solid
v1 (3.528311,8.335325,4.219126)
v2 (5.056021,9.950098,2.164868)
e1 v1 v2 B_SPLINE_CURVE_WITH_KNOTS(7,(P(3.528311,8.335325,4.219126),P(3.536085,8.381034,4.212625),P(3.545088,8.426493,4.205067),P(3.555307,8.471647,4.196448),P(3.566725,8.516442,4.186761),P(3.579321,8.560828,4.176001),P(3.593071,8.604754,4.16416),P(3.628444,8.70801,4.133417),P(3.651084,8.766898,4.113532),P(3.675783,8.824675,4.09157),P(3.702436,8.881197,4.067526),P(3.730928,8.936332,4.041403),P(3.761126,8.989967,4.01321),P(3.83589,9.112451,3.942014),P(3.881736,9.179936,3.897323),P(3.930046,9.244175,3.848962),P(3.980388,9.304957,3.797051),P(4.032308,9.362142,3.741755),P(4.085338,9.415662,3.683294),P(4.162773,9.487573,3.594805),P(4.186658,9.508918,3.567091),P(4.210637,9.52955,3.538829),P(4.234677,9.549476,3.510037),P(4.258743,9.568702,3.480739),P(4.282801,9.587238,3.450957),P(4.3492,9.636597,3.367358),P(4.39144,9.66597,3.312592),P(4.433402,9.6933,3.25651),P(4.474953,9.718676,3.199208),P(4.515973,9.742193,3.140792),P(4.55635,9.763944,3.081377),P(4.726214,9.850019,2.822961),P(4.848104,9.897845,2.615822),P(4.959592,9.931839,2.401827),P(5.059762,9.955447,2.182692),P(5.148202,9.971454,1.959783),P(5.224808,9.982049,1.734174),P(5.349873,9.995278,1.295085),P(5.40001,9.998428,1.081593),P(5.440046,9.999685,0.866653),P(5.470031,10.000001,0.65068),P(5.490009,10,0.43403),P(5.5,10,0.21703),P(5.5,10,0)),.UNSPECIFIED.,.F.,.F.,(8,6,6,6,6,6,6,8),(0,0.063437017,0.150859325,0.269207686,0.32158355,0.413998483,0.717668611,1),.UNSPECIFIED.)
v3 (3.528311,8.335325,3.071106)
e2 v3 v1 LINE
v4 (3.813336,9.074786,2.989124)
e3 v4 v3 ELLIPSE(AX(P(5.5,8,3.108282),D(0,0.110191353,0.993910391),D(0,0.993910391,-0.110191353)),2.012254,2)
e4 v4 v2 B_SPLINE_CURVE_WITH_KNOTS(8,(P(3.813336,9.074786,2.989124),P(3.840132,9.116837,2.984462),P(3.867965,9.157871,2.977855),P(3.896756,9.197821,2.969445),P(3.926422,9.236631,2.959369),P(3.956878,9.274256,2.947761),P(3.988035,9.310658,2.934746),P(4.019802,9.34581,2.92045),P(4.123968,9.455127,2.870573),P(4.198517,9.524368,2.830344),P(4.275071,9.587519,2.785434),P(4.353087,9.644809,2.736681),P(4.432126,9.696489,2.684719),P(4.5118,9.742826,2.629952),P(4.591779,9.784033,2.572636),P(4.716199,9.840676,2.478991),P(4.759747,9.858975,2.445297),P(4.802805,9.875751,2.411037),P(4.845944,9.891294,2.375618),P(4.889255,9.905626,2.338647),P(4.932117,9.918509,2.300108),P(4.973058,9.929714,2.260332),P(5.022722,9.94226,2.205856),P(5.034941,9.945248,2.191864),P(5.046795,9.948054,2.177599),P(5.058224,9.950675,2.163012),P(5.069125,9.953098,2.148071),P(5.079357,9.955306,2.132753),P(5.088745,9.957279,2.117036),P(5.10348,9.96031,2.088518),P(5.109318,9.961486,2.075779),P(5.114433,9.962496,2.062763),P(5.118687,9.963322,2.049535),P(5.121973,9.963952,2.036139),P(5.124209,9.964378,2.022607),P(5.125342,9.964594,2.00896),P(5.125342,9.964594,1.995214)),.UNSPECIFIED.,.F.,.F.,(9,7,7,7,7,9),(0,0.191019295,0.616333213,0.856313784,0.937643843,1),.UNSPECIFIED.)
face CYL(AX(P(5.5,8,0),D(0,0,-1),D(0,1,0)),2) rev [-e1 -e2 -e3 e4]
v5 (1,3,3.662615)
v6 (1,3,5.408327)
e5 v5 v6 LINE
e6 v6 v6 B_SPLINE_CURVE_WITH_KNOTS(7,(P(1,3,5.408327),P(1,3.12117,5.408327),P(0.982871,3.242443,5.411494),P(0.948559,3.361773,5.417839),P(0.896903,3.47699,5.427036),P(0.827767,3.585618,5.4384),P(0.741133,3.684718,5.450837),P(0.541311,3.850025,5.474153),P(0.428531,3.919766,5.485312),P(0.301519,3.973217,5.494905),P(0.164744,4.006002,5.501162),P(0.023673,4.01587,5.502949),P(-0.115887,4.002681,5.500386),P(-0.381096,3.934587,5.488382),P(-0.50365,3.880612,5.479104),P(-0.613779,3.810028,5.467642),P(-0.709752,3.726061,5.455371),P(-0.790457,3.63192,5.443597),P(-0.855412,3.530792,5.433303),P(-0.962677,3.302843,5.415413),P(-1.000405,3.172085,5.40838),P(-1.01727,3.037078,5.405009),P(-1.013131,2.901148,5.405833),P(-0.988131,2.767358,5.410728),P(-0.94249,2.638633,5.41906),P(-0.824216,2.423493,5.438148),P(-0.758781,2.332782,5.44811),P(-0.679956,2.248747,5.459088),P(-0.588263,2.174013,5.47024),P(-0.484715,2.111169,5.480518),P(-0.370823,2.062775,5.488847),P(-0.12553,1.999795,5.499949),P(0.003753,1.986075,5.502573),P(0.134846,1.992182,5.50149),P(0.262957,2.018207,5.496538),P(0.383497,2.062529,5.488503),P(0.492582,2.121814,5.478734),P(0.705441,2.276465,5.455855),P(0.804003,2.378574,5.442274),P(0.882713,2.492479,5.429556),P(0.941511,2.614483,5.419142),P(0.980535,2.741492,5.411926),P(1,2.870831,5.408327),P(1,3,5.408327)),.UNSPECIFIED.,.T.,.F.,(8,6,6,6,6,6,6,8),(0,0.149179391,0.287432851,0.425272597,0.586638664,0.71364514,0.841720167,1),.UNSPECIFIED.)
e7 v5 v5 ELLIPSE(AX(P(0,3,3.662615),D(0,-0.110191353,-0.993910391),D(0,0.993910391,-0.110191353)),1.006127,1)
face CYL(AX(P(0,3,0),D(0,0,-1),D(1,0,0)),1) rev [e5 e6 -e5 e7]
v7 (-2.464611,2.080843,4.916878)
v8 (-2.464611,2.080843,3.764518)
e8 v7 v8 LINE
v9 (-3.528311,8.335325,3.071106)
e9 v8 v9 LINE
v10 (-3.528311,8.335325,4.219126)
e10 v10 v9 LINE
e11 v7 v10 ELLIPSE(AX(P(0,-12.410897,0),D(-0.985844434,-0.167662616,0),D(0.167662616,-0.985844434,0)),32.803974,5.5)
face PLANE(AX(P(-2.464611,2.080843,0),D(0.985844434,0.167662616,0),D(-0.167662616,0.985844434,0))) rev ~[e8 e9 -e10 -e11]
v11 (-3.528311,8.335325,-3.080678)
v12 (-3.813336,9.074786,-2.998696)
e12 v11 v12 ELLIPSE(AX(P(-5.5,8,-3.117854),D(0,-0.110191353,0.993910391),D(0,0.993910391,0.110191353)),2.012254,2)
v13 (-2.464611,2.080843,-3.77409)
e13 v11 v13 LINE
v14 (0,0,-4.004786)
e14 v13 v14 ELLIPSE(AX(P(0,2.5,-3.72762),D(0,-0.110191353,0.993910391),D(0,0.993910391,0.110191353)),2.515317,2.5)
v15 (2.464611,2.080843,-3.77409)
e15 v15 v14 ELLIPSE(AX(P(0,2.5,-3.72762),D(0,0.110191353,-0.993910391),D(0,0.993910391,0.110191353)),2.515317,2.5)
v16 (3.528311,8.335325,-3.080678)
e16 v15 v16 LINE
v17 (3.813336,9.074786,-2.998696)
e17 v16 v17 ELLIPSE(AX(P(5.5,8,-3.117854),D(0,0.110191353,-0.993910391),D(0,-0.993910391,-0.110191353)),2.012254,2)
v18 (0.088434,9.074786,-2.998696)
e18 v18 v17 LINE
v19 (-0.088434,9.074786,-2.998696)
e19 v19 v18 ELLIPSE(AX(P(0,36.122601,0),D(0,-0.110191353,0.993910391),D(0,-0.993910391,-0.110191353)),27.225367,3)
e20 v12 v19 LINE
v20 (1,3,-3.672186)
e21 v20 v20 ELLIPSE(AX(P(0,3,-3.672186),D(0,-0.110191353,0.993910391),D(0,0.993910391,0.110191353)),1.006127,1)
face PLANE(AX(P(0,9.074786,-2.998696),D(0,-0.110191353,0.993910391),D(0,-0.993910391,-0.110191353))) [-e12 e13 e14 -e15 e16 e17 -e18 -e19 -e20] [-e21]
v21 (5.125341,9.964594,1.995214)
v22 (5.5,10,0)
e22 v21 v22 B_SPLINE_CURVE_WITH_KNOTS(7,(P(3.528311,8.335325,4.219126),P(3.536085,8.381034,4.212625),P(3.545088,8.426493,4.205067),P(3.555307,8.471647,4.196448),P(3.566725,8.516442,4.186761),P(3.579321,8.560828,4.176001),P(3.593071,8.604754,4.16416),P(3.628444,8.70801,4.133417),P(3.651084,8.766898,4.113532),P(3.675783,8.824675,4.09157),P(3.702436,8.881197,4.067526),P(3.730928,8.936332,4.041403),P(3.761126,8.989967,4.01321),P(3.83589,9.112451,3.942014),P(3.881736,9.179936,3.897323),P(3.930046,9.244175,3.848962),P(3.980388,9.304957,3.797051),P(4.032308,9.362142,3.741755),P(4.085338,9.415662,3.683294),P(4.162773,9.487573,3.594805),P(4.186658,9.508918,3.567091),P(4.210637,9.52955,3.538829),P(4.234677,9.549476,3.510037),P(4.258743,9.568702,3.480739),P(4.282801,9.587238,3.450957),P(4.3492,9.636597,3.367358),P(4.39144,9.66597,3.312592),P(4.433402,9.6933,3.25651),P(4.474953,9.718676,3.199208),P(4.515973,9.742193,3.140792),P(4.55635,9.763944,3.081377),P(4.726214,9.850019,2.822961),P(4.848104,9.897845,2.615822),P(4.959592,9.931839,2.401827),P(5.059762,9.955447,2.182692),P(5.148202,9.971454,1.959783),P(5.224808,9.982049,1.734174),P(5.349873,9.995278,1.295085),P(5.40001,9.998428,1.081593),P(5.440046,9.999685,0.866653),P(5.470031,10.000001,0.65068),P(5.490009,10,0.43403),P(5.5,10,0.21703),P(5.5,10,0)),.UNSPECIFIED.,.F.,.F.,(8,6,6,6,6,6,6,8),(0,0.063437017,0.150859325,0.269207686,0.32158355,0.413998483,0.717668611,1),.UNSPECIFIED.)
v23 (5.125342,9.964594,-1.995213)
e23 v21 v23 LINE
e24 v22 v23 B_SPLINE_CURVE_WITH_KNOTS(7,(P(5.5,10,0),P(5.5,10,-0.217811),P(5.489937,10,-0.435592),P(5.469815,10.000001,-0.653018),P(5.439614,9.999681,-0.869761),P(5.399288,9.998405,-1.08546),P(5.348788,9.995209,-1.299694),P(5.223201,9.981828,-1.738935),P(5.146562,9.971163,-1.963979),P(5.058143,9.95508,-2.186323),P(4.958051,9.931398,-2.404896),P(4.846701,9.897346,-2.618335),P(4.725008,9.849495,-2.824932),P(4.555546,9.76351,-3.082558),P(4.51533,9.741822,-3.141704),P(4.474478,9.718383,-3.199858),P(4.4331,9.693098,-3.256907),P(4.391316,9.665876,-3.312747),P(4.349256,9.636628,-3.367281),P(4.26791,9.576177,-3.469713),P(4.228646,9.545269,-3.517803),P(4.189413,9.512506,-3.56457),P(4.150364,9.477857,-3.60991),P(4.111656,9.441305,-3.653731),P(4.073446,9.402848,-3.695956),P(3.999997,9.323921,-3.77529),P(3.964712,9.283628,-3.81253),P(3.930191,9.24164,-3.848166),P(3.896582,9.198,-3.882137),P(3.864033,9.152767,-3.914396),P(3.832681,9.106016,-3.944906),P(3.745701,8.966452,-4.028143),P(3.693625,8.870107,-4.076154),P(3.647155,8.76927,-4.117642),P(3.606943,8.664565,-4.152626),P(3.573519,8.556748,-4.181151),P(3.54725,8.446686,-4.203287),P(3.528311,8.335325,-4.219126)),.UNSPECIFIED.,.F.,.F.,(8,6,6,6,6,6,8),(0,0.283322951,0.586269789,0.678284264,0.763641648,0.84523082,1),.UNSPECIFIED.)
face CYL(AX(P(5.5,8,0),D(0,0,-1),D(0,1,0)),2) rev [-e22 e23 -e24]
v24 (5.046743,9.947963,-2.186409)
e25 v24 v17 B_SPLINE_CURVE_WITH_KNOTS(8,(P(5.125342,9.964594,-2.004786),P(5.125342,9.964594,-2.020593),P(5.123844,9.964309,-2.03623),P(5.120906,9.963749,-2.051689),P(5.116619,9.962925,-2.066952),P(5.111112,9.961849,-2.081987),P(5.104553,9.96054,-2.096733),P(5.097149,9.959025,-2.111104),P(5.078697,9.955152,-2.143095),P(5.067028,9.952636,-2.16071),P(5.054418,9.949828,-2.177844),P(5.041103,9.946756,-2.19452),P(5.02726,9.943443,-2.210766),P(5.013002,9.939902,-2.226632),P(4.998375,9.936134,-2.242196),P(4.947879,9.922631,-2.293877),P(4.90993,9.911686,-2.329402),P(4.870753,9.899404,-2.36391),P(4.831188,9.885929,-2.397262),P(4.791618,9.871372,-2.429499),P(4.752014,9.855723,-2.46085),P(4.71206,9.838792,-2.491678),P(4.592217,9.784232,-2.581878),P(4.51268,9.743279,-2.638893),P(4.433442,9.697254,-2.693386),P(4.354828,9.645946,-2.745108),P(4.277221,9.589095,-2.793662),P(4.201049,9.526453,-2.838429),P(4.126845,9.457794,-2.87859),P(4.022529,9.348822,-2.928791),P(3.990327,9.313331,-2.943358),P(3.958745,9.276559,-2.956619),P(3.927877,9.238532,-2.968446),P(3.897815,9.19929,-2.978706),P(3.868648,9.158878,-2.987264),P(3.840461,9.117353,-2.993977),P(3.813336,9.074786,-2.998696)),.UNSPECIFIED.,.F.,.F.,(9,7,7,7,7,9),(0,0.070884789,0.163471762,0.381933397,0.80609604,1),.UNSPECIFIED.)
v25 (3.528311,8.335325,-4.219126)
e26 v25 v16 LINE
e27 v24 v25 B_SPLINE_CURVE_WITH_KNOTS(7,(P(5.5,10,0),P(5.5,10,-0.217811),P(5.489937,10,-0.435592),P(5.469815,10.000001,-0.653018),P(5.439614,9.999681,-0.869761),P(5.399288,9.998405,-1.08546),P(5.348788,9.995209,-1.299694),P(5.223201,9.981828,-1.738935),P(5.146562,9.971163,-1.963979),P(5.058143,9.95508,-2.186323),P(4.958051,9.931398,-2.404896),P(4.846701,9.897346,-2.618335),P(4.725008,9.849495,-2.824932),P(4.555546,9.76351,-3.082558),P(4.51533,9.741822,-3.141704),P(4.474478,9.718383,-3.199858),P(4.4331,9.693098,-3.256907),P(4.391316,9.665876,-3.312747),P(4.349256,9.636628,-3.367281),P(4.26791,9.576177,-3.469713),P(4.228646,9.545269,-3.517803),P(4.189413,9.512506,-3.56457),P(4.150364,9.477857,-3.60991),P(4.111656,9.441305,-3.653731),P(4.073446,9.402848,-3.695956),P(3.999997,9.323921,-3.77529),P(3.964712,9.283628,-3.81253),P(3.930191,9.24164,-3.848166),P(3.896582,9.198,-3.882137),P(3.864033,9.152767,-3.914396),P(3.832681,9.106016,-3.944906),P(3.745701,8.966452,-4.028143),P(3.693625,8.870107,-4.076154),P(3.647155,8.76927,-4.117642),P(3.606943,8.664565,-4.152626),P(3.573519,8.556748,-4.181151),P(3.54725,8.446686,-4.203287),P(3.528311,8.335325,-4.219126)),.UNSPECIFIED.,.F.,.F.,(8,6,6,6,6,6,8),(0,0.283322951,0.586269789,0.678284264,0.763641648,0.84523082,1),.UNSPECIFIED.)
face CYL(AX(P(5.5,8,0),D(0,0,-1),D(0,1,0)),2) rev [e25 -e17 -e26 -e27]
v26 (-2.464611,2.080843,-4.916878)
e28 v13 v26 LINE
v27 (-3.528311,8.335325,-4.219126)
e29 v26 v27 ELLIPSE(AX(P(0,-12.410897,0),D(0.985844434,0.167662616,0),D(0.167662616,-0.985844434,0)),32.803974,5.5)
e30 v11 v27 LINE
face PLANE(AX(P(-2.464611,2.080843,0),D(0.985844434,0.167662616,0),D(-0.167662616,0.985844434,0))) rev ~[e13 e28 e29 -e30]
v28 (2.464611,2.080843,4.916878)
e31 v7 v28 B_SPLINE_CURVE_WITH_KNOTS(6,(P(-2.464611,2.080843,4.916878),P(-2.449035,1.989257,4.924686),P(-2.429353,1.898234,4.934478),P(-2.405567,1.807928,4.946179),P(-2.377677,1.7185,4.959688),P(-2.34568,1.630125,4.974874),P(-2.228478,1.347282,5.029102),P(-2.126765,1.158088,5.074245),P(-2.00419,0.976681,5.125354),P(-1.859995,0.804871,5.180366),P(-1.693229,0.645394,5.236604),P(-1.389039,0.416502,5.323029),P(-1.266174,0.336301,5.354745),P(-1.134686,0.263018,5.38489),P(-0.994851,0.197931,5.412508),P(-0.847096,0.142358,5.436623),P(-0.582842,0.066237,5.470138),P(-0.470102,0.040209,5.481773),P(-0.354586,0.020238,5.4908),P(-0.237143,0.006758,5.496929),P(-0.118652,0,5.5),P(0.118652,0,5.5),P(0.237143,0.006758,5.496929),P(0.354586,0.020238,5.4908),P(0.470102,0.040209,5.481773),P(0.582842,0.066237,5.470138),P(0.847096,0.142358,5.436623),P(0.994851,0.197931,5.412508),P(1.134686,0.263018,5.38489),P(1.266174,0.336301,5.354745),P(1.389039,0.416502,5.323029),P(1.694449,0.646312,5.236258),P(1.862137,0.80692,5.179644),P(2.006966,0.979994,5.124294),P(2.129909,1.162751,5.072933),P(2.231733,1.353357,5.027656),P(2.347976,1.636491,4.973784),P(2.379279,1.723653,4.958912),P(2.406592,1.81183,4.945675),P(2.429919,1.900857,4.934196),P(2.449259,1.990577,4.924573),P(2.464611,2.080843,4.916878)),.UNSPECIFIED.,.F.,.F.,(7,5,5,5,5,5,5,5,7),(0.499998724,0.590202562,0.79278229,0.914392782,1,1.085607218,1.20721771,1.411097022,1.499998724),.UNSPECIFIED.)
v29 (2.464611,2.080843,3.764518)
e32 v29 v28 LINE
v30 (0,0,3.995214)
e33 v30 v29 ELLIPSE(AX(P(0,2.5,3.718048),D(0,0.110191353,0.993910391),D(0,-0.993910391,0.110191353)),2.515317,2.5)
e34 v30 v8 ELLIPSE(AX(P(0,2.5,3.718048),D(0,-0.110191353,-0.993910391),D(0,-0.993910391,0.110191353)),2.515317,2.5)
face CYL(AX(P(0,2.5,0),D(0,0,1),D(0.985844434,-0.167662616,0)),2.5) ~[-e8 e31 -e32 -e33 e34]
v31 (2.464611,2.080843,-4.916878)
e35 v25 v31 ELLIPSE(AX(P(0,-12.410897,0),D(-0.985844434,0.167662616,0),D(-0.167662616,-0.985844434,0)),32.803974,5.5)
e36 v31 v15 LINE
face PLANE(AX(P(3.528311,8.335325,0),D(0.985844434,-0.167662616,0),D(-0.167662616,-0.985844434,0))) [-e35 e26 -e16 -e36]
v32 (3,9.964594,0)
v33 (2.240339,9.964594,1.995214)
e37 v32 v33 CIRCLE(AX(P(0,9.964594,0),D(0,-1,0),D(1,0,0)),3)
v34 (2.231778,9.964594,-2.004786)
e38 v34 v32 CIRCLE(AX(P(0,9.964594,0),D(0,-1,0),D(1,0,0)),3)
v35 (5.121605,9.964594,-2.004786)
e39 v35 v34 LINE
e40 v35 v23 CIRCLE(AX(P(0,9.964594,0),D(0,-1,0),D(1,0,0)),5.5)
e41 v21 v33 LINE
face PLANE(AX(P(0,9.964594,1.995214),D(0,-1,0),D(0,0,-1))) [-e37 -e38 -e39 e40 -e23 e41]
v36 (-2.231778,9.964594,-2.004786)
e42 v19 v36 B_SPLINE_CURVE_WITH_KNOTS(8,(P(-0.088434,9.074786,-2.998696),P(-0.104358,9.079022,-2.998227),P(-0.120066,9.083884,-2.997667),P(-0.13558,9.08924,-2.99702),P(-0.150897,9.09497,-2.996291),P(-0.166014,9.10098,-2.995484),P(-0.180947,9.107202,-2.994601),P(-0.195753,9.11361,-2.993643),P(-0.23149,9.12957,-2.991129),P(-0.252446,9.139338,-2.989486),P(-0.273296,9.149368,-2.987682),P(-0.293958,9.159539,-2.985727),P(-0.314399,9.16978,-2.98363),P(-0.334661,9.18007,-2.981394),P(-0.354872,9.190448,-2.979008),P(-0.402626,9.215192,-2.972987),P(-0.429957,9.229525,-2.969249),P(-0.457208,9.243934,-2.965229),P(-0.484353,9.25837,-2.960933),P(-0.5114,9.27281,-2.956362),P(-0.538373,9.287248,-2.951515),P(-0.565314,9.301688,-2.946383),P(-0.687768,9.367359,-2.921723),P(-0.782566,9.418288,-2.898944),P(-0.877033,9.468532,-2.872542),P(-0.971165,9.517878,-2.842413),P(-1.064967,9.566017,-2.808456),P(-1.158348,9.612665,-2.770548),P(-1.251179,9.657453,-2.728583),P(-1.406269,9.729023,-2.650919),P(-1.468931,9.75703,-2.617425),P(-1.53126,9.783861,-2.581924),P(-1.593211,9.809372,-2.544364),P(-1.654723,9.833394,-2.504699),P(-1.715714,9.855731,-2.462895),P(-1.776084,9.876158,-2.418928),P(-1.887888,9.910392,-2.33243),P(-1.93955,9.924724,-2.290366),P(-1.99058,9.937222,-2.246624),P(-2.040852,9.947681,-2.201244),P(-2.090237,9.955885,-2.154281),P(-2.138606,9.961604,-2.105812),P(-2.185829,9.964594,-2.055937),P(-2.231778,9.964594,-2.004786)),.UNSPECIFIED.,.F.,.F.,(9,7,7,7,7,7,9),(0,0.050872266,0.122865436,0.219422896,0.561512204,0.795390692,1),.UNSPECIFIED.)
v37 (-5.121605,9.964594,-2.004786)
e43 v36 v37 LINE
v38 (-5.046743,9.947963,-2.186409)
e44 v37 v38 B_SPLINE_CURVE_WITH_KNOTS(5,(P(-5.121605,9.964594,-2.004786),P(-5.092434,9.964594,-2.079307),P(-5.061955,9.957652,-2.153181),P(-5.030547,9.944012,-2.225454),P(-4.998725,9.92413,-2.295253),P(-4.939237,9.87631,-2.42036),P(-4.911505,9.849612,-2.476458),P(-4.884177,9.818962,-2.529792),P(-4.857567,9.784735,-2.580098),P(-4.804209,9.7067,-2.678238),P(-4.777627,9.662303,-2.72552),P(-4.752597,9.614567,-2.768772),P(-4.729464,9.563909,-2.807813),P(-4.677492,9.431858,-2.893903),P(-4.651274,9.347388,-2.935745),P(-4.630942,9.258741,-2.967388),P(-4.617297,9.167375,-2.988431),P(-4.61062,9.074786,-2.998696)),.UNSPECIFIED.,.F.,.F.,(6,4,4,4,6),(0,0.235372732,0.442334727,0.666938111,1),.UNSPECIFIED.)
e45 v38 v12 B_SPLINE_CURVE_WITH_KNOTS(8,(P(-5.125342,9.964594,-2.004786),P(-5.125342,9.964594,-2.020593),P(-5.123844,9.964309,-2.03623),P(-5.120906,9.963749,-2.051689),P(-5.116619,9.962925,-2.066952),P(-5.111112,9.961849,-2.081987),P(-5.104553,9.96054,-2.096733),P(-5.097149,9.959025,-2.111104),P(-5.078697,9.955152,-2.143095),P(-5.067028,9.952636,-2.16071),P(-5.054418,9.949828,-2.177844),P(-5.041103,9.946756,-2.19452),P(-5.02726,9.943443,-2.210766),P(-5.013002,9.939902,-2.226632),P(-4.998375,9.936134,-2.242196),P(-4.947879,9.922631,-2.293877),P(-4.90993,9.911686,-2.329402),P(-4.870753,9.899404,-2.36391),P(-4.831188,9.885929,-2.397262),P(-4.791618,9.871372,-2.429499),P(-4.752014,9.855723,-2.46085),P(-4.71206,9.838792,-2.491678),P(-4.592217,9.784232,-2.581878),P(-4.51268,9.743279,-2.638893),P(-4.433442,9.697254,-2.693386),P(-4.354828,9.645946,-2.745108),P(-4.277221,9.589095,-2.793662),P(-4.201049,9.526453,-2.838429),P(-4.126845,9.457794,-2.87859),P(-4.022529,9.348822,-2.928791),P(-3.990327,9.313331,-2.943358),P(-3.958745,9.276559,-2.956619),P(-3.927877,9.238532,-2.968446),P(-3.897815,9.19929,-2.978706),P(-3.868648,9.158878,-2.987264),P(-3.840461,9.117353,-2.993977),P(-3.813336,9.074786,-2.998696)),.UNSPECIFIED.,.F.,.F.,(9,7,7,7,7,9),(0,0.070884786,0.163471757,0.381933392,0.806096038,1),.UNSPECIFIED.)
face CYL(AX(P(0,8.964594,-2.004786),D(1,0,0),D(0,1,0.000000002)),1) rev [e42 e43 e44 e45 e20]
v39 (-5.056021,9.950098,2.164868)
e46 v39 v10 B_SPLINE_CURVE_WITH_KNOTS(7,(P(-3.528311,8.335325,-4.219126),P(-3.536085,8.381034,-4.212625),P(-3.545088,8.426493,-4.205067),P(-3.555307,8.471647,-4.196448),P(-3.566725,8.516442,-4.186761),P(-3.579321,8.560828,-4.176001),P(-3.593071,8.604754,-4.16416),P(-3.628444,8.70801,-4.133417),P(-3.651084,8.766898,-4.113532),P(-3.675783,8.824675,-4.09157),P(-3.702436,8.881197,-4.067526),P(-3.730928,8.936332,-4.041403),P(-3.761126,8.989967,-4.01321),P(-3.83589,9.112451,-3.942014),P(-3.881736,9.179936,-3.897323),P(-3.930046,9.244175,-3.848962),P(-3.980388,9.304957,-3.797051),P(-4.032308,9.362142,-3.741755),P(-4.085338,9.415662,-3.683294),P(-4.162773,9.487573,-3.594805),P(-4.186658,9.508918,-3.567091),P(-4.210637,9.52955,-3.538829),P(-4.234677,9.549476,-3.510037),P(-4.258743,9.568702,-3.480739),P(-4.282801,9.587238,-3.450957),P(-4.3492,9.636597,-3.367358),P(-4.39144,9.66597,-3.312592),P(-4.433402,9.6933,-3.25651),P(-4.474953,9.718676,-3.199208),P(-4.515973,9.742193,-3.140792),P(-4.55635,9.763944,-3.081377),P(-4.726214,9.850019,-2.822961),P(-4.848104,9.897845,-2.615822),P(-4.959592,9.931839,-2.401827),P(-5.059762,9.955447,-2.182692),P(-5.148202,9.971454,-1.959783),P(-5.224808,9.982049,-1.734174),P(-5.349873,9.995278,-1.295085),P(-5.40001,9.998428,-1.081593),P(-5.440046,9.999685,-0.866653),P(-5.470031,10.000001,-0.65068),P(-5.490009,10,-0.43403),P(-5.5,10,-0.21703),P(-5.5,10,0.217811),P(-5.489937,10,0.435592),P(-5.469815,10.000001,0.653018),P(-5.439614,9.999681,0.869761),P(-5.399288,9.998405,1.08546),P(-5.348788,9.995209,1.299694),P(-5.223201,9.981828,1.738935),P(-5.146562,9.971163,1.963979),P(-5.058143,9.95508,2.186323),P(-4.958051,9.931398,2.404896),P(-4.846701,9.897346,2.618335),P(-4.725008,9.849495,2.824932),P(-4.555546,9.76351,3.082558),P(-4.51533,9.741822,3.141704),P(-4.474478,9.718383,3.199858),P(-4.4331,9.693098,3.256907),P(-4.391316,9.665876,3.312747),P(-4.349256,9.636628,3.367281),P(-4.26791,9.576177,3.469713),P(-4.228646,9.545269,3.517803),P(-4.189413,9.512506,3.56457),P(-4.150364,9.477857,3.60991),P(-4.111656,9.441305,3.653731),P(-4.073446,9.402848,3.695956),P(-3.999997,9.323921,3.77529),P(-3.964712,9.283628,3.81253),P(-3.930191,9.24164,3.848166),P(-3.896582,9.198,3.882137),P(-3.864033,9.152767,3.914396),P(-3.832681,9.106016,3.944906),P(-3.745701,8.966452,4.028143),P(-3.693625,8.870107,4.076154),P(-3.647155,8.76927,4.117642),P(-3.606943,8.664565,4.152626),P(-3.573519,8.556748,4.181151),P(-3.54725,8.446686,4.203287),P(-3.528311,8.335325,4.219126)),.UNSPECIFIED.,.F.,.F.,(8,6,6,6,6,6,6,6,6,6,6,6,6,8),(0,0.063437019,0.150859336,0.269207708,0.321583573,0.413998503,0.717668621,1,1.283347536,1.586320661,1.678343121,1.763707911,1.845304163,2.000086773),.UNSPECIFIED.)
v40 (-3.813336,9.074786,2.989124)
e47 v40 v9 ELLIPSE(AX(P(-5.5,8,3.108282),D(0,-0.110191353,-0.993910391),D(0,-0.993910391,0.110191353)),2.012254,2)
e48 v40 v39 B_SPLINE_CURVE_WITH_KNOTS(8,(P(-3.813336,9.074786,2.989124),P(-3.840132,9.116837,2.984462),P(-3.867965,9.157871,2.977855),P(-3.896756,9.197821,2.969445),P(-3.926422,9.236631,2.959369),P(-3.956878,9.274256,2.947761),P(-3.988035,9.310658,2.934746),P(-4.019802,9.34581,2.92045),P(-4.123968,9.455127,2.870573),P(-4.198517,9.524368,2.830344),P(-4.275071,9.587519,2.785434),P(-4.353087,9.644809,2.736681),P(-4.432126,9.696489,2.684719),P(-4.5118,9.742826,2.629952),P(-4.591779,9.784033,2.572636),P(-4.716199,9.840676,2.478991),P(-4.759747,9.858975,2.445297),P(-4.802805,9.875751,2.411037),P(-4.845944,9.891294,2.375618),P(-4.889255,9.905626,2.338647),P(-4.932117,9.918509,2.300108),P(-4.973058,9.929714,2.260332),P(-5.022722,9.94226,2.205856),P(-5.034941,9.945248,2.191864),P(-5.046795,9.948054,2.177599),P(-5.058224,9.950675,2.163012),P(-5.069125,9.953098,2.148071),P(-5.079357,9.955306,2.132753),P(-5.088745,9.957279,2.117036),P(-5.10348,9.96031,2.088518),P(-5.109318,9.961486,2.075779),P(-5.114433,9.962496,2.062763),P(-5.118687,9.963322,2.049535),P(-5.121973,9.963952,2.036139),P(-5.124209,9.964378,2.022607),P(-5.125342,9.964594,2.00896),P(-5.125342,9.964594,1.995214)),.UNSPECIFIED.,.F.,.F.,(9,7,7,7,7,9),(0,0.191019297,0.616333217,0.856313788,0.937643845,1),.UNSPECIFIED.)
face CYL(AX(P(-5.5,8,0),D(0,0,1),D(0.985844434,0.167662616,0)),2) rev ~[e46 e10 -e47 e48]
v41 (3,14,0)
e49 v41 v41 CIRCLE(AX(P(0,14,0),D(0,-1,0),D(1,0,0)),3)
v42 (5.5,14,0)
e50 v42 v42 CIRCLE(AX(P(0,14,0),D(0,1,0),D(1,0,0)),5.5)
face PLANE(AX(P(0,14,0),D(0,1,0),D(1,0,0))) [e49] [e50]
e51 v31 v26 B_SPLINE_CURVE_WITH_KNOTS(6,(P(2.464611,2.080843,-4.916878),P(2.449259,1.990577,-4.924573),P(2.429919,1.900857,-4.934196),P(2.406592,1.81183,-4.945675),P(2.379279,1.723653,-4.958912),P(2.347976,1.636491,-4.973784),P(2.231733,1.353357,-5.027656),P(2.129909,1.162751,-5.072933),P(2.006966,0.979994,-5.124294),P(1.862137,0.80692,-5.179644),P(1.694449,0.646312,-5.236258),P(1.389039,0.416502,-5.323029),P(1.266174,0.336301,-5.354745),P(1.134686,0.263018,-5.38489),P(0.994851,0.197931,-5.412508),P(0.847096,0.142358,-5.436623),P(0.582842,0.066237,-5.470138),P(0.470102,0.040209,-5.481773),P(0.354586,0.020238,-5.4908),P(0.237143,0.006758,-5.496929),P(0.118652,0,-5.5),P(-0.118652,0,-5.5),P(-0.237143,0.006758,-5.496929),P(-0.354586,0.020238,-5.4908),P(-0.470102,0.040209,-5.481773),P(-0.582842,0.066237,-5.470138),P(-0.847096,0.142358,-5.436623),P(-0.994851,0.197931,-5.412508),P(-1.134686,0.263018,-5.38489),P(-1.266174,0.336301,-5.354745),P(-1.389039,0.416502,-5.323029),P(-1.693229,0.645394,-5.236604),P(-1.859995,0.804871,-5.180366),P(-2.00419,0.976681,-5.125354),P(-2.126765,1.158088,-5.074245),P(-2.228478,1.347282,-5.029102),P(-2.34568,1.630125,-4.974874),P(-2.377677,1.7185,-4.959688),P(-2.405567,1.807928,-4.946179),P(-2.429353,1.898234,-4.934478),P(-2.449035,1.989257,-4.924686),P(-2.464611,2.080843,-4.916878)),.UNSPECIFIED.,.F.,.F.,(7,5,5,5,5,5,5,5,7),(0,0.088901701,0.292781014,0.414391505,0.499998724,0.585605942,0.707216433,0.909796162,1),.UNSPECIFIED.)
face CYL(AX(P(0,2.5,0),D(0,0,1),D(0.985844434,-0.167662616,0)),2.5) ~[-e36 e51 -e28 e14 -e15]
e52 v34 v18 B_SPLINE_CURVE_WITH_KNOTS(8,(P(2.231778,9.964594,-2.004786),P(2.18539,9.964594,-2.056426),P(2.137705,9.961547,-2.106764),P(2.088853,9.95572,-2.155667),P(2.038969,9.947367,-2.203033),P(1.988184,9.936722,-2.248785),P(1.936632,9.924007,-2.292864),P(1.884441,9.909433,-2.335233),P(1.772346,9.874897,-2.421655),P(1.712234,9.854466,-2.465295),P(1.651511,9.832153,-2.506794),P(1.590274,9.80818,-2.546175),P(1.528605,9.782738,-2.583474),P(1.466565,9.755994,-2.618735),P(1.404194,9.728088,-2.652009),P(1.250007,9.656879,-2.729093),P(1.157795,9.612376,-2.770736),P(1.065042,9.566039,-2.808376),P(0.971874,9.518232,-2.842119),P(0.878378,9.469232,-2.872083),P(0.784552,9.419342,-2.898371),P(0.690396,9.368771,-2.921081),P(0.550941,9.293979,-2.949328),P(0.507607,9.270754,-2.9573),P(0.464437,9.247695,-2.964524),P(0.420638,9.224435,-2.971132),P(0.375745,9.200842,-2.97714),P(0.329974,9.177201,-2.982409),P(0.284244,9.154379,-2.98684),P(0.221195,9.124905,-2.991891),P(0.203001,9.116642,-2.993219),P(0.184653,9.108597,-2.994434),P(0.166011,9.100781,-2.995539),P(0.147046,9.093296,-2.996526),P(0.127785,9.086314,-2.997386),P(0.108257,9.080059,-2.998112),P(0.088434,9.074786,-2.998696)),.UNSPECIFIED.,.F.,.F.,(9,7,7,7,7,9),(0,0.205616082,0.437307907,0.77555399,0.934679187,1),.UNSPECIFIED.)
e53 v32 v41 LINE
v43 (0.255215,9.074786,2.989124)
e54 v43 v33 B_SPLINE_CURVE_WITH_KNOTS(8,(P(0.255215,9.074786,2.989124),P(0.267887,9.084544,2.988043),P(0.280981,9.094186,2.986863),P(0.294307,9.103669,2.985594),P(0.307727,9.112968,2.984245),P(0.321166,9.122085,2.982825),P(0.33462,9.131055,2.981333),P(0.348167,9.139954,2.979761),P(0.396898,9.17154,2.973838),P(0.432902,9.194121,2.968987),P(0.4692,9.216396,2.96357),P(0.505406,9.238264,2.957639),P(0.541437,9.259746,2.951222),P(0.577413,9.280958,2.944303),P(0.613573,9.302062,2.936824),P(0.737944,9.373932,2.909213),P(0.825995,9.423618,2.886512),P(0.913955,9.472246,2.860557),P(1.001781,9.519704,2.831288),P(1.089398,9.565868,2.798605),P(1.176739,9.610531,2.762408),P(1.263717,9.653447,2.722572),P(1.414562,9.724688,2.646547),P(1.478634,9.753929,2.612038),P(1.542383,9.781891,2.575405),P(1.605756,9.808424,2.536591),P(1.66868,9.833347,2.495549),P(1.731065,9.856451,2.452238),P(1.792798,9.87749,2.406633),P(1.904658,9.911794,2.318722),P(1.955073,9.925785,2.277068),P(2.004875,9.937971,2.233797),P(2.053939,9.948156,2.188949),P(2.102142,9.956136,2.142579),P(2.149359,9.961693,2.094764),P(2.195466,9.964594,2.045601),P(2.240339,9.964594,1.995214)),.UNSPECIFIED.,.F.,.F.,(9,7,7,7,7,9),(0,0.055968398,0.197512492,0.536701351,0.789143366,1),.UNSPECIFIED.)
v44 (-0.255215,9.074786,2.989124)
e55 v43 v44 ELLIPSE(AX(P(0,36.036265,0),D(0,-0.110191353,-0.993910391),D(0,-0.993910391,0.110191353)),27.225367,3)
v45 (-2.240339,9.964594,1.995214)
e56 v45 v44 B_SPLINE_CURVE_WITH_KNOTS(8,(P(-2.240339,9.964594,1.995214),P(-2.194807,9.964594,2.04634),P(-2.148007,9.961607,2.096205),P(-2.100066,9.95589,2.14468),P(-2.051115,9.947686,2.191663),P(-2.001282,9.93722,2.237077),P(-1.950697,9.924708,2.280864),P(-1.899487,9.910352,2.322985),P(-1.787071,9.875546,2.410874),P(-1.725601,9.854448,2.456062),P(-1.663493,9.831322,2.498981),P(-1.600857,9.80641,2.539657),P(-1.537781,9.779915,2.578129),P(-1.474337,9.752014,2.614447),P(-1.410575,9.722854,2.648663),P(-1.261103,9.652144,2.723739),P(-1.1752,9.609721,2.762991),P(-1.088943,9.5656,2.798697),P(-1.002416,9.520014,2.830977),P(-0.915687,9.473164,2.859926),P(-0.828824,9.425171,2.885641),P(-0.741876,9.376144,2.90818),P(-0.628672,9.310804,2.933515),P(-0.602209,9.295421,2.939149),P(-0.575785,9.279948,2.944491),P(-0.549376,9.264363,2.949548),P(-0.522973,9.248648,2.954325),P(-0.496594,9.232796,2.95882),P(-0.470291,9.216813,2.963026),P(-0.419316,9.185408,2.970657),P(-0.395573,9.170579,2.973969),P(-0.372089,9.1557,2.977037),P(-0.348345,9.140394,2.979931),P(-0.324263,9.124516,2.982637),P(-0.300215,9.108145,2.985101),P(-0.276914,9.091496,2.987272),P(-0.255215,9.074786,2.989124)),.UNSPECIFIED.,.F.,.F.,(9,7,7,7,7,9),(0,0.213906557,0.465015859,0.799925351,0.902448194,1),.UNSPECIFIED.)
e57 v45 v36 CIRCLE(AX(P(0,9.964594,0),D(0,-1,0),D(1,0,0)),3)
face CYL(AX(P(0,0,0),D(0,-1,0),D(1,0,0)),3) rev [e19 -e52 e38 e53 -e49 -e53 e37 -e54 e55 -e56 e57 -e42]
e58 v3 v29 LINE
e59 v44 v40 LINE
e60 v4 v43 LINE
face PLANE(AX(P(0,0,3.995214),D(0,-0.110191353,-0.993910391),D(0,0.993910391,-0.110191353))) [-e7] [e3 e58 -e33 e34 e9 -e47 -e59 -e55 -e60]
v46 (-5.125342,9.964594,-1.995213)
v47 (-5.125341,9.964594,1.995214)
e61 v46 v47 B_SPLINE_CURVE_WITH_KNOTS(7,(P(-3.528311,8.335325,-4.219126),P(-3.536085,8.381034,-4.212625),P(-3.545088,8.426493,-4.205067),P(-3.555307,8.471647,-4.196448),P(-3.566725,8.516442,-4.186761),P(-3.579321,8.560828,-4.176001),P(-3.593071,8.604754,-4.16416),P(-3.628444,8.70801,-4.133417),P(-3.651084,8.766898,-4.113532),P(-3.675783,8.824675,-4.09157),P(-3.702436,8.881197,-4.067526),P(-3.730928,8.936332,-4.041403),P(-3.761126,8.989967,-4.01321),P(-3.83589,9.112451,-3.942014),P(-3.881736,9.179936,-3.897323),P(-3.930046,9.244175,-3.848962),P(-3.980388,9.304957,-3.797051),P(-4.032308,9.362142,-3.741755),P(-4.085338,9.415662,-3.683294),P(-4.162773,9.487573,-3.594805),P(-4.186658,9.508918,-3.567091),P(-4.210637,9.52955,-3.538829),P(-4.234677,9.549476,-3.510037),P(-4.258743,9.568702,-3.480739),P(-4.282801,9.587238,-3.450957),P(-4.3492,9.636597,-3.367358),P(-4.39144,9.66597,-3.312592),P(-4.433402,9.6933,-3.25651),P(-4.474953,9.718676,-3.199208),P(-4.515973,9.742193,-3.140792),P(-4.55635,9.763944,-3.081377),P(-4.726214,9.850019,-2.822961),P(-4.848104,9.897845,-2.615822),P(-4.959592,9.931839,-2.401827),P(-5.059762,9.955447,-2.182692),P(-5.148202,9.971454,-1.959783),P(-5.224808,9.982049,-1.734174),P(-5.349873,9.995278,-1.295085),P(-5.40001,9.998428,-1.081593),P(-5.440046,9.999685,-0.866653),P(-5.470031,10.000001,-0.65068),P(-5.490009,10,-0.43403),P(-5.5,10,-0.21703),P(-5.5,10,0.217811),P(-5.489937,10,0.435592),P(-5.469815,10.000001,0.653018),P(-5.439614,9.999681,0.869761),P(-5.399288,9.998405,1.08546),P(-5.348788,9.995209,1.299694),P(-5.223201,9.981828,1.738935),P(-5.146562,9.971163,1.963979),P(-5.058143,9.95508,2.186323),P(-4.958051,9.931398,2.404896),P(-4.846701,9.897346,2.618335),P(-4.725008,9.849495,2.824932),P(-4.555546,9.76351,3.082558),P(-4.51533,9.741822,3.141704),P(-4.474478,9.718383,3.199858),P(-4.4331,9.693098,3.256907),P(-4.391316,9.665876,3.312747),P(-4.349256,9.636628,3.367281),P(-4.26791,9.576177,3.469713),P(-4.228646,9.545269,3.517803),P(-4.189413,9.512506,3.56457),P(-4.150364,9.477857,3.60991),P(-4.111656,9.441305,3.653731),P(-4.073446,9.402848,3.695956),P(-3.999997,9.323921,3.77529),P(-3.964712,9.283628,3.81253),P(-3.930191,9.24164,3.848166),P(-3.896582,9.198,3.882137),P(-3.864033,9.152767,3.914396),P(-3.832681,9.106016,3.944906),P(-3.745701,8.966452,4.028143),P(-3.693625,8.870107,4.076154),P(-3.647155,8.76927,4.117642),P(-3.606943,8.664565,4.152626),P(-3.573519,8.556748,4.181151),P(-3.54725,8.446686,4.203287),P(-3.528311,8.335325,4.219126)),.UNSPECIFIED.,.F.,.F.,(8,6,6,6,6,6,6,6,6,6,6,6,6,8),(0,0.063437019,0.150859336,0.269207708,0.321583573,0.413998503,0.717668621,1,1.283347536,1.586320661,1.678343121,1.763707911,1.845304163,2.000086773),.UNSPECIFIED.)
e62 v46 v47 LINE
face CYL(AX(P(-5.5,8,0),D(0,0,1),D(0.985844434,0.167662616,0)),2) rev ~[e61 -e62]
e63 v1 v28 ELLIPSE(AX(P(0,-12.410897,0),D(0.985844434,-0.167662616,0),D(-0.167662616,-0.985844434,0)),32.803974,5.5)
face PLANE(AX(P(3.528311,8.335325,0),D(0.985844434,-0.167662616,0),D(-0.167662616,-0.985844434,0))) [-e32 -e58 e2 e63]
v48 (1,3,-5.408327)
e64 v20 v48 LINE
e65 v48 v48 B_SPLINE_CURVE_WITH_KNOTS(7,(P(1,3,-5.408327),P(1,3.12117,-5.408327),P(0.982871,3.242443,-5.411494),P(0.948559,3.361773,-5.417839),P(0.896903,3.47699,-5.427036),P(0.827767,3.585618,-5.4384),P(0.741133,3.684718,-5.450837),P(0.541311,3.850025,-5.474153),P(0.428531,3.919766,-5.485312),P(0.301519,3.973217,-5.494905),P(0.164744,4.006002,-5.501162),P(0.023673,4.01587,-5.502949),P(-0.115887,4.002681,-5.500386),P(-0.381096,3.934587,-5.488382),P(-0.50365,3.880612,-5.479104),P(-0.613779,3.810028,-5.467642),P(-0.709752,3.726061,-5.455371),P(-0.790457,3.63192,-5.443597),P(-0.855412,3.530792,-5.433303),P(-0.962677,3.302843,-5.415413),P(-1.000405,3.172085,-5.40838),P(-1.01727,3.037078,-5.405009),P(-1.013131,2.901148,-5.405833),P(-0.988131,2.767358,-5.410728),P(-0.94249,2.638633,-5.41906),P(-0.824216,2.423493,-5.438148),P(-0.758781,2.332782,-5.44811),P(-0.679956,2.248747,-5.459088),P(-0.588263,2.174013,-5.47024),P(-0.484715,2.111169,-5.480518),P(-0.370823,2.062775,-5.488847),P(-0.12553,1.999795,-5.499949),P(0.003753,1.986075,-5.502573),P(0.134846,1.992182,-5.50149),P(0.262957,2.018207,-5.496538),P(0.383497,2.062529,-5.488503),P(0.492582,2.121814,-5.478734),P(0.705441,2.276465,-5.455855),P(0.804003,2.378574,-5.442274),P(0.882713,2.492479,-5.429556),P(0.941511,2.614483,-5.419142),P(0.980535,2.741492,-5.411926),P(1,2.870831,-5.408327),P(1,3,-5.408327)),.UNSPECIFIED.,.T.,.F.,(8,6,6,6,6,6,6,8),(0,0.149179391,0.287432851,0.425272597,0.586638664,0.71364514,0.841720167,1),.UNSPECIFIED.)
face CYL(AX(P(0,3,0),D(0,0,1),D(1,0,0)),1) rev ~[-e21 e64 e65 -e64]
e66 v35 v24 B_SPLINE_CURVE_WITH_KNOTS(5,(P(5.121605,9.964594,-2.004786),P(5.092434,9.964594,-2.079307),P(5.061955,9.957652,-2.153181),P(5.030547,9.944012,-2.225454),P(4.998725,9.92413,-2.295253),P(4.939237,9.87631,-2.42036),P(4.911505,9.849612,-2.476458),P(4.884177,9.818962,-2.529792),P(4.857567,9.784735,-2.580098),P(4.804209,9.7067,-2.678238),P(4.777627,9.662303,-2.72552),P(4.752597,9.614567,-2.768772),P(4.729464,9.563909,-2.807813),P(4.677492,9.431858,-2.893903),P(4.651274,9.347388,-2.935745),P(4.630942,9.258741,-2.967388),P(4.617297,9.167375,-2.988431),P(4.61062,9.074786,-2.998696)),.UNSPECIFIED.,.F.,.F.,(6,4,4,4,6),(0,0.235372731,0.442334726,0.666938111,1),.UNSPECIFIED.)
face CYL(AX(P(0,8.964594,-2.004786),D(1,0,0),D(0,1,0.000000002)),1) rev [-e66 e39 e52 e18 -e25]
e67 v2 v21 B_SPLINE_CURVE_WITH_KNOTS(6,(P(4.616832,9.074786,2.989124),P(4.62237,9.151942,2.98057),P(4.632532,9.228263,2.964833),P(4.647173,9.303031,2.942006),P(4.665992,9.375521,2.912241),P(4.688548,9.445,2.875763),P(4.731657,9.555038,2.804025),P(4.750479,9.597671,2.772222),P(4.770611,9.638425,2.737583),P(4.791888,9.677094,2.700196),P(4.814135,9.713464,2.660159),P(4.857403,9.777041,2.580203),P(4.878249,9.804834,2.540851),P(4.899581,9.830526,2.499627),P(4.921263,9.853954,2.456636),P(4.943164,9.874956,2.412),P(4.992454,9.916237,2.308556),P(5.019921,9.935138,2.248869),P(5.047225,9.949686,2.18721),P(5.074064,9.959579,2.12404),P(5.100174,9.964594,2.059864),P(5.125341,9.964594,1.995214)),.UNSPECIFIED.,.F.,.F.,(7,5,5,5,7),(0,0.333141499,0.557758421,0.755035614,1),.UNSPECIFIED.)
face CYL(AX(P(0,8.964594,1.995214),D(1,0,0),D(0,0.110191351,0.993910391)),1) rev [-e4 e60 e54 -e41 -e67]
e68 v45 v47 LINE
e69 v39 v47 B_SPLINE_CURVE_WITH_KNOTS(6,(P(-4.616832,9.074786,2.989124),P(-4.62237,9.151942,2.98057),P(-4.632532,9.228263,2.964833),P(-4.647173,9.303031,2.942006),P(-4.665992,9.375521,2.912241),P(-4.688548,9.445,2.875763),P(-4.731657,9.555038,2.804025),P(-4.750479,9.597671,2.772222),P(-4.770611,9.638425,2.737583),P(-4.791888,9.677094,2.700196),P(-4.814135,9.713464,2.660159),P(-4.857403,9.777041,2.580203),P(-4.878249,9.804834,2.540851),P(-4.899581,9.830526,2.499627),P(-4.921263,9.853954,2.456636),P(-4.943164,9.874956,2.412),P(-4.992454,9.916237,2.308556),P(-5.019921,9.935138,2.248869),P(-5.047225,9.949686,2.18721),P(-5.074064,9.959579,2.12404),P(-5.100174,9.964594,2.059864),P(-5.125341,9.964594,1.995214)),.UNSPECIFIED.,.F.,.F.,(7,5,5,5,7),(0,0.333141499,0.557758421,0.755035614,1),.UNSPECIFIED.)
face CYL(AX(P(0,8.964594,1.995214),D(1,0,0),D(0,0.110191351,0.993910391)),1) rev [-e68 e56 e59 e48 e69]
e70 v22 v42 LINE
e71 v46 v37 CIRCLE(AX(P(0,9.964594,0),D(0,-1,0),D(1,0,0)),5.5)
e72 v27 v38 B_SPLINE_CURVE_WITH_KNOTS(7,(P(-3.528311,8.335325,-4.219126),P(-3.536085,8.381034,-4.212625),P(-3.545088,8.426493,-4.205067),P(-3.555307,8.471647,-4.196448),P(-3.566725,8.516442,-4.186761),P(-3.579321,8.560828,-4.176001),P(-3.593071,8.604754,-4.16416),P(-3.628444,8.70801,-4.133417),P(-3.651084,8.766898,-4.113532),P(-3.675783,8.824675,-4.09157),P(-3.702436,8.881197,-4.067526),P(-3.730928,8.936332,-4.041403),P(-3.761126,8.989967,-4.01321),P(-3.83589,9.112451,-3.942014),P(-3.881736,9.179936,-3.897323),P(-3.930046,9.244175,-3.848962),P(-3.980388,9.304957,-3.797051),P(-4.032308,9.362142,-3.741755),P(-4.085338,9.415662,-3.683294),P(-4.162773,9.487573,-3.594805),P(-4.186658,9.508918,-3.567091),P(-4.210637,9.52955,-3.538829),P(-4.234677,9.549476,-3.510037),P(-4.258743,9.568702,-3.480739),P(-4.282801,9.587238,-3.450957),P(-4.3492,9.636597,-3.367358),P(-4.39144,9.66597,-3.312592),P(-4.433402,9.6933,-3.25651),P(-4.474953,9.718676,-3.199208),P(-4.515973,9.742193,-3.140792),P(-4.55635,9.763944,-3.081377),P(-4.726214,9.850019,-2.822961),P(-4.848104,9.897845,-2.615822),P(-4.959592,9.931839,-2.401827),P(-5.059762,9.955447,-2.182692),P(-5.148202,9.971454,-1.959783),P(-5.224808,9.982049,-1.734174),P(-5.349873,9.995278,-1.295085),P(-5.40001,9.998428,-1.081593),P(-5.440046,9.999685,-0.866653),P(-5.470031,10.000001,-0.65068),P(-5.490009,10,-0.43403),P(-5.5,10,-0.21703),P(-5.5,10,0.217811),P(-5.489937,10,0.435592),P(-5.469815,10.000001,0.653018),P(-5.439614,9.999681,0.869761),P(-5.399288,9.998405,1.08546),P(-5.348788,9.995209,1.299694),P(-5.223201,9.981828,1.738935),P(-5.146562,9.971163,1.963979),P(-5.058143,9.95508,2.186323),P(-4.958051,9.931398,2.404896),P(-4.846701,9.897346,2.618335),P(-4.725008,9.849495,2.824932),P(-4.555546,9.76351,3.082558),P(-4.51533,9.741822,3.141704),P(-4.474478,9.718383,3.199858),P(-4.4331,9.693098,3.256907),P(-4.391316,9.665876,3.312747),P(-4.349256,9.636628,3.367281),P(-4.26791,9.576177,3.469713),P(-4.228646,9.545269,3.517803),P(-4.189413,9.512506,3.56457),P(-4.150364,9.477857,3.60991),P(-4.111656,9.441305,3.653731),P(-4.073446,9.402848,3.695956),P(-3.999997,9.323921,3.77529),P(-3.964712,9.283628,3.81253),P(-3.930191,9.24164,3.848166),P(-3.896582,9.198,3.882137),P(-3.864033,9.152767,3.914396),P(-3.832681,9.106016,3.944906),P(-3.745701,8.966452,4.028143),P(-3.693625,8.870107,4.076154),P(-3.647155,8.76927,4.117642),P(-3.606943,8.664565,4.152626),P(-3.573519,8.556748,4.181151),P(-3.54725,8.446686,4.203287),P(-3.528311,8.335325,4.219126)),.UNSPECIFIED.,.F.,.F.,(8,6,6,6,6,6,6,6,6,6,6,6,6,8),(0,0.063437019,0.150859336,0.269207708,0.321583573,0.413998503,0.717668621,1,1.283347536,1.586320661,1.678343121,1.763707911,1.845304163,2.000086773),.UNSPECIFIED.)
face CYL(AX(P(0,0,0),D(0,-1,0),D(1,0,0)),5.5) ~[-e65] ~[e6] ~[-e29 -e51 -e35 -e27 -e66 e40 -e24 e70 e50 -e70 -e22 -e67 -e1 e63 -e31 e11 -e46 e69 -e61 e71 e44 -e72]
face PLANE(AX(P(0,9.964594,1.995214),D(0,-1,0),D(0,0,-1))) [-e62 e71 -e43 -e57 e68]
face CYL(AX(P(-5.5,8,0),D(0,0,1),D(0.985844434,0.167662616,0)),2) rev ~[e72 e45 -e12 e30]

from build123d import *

# Parameters (mm, degrees)
SKETCH1_R               = 5.5
BOSS_EXTRUDE1_DEPTH     = 14
CUT_EXTRUDE3_DEPTH      = 6.5
CUT_EXTRUDE3_DEPTH_BACK = 6.5
CUT_EXTRUDE4_DEPTH      = 6.5000001
CUT_EXTRUDE4_DEPTH_BACK = 6.5000001
SKETCH5_R               = 3
CUT_EXTRUDE7_DEPTH      = 15.0000001
CUT_EXTRUDE7_DEPTH_BACK = 14
SKETCH6_R               = 1
CUT_EXTRUDE8_DEPTH      = 6.5000001
CUT_EXTRUDE8_DEPTH_BACK = 6.5000001


with BuildPart() as part:
    # Sketch1 → Boss-Extrude1 (new body)
    with BuildSketch(Plane(origin=(0, 0, 0), x_dir=(1, 0, 0), z_dir=(0, 1, 0))):
        Circle(SKETCH1_R)
    extrude(amount=BOSS_EXTRUDE1_DEPTH)

    # Sketch3 → Cut-Extrude3 (cut, two sides)
    with BuildSketch(Plane.XY) as cut_extrude3_sk:
        with BuildLine():
            Line((45.232137495, 10), (5.5, 10))
            ThreePointArc((5.5, 10), (4.209777241, 9.528177094), (3.528311133, 8.335325231))
            Line((3.528311133, 8.335325231), (2.464611084, 2.080843461))
            ThreePointArc((2.464611084, 2.080843461), (0, 0), (-2.464611084, 2.080843461))
            Line((-2.464611084, 2.080843461), (-3.528311133, 8.335325231))
            ThreePointArc((-3.528311133, 8.335325231), (-4.209777241, 9.528177094), (-5.5, 10))
            Line((-5.5, 10), (-45.232137495, 10))
            Line((-45.232137495, 10), (-45.232137495, -69.464274989))
            Line((-45.232137495, -69.464274989), (45.232137495, -69.464274989))
            Line((45.232137495, -69.464274989), (45.232137495, 10))
        make_face()
    extrude(amount=CUT_EXTRUDE3_DEPTH, mode=Mode.SUBTRACT)
    extrude(cut_extrude3_sk.sketch, amount=-CUT_EXTRUDE3_DEPTH_BACK, mode=Mode.SUBTRACT)

    # Sketch4 → Cut-Extrude4 (cut, two sides)
    with BuildSketch(Plane(origin=(0, 0, 0), x_dir=(0, 0, -1), z_dir=(1, 0, 0))) as cut_extrude4_sk:
        with BuildLine():
            Line((4.004785901, 0), (-3.995214099, 0))
            Line((-3.995214099, 0), (-2.98912449, 9.074785729))
            ThreePointArc((-2.98912449, 9.074785729), (-2.662225586, 9.709641809), (-1.995214099, 9.964594376))
            Line((-1.995214099, 9.964594376), (2.004785901, 9.964594376))
            ThreePointArc((2.004785901, 9.964594376), (2.671797388, 9.709641809), (2.998696292, 9.074785729))
            Line((2.998696292, 9.074785729), (4.004785901, 0))
        make_face()
    extrude(amount=CUT_EXTRUDE4_DEPTH, mode=Mode.SUBTRACT)
    extrude(cut_extrude4_sk.sketch, amount=-CUT_EXTRUDE4_DEPTH_BACK, mode=Mode.SUBTRACT)

    # Sketch5 → Cut-Extrude7 (cut, two sides)
    with BuildSketch(Plane(origin=(0, 0, 0), x_dir=(1, 0, 0), z_dir=(0, 1, 0))) as cut_extrude7_sk:
        Circle(SKETCH5_R)
    extrude(amount=CUT_EXTRUDE7_DEPTH, mode=Mode.SUBTRACT)
    extrude(cut_extrude7_sk.sketch, amount=-CUT_EXTRUDE7_DEPTH_BACK, mode=Mode.SUBTRACT)

    # Sketch6 → Cut-Extrude8 (cut, two sides)
    with BuildSketch(Plane.XY) as cut_extrude8_sk:
        with Locations((0, 3)):
            Circle(SKETCH6_R)
    extrude(amount=CUT_EXTRUDE8_DEPTH, mode=Mode.SUBTRACT)
    extrude(cut_extrude8_sk.sketch, amount=-CUT_EXTRUDE8_DEPTH_BACK, mode=Mode.SUBTRACT)


solid = part.part
